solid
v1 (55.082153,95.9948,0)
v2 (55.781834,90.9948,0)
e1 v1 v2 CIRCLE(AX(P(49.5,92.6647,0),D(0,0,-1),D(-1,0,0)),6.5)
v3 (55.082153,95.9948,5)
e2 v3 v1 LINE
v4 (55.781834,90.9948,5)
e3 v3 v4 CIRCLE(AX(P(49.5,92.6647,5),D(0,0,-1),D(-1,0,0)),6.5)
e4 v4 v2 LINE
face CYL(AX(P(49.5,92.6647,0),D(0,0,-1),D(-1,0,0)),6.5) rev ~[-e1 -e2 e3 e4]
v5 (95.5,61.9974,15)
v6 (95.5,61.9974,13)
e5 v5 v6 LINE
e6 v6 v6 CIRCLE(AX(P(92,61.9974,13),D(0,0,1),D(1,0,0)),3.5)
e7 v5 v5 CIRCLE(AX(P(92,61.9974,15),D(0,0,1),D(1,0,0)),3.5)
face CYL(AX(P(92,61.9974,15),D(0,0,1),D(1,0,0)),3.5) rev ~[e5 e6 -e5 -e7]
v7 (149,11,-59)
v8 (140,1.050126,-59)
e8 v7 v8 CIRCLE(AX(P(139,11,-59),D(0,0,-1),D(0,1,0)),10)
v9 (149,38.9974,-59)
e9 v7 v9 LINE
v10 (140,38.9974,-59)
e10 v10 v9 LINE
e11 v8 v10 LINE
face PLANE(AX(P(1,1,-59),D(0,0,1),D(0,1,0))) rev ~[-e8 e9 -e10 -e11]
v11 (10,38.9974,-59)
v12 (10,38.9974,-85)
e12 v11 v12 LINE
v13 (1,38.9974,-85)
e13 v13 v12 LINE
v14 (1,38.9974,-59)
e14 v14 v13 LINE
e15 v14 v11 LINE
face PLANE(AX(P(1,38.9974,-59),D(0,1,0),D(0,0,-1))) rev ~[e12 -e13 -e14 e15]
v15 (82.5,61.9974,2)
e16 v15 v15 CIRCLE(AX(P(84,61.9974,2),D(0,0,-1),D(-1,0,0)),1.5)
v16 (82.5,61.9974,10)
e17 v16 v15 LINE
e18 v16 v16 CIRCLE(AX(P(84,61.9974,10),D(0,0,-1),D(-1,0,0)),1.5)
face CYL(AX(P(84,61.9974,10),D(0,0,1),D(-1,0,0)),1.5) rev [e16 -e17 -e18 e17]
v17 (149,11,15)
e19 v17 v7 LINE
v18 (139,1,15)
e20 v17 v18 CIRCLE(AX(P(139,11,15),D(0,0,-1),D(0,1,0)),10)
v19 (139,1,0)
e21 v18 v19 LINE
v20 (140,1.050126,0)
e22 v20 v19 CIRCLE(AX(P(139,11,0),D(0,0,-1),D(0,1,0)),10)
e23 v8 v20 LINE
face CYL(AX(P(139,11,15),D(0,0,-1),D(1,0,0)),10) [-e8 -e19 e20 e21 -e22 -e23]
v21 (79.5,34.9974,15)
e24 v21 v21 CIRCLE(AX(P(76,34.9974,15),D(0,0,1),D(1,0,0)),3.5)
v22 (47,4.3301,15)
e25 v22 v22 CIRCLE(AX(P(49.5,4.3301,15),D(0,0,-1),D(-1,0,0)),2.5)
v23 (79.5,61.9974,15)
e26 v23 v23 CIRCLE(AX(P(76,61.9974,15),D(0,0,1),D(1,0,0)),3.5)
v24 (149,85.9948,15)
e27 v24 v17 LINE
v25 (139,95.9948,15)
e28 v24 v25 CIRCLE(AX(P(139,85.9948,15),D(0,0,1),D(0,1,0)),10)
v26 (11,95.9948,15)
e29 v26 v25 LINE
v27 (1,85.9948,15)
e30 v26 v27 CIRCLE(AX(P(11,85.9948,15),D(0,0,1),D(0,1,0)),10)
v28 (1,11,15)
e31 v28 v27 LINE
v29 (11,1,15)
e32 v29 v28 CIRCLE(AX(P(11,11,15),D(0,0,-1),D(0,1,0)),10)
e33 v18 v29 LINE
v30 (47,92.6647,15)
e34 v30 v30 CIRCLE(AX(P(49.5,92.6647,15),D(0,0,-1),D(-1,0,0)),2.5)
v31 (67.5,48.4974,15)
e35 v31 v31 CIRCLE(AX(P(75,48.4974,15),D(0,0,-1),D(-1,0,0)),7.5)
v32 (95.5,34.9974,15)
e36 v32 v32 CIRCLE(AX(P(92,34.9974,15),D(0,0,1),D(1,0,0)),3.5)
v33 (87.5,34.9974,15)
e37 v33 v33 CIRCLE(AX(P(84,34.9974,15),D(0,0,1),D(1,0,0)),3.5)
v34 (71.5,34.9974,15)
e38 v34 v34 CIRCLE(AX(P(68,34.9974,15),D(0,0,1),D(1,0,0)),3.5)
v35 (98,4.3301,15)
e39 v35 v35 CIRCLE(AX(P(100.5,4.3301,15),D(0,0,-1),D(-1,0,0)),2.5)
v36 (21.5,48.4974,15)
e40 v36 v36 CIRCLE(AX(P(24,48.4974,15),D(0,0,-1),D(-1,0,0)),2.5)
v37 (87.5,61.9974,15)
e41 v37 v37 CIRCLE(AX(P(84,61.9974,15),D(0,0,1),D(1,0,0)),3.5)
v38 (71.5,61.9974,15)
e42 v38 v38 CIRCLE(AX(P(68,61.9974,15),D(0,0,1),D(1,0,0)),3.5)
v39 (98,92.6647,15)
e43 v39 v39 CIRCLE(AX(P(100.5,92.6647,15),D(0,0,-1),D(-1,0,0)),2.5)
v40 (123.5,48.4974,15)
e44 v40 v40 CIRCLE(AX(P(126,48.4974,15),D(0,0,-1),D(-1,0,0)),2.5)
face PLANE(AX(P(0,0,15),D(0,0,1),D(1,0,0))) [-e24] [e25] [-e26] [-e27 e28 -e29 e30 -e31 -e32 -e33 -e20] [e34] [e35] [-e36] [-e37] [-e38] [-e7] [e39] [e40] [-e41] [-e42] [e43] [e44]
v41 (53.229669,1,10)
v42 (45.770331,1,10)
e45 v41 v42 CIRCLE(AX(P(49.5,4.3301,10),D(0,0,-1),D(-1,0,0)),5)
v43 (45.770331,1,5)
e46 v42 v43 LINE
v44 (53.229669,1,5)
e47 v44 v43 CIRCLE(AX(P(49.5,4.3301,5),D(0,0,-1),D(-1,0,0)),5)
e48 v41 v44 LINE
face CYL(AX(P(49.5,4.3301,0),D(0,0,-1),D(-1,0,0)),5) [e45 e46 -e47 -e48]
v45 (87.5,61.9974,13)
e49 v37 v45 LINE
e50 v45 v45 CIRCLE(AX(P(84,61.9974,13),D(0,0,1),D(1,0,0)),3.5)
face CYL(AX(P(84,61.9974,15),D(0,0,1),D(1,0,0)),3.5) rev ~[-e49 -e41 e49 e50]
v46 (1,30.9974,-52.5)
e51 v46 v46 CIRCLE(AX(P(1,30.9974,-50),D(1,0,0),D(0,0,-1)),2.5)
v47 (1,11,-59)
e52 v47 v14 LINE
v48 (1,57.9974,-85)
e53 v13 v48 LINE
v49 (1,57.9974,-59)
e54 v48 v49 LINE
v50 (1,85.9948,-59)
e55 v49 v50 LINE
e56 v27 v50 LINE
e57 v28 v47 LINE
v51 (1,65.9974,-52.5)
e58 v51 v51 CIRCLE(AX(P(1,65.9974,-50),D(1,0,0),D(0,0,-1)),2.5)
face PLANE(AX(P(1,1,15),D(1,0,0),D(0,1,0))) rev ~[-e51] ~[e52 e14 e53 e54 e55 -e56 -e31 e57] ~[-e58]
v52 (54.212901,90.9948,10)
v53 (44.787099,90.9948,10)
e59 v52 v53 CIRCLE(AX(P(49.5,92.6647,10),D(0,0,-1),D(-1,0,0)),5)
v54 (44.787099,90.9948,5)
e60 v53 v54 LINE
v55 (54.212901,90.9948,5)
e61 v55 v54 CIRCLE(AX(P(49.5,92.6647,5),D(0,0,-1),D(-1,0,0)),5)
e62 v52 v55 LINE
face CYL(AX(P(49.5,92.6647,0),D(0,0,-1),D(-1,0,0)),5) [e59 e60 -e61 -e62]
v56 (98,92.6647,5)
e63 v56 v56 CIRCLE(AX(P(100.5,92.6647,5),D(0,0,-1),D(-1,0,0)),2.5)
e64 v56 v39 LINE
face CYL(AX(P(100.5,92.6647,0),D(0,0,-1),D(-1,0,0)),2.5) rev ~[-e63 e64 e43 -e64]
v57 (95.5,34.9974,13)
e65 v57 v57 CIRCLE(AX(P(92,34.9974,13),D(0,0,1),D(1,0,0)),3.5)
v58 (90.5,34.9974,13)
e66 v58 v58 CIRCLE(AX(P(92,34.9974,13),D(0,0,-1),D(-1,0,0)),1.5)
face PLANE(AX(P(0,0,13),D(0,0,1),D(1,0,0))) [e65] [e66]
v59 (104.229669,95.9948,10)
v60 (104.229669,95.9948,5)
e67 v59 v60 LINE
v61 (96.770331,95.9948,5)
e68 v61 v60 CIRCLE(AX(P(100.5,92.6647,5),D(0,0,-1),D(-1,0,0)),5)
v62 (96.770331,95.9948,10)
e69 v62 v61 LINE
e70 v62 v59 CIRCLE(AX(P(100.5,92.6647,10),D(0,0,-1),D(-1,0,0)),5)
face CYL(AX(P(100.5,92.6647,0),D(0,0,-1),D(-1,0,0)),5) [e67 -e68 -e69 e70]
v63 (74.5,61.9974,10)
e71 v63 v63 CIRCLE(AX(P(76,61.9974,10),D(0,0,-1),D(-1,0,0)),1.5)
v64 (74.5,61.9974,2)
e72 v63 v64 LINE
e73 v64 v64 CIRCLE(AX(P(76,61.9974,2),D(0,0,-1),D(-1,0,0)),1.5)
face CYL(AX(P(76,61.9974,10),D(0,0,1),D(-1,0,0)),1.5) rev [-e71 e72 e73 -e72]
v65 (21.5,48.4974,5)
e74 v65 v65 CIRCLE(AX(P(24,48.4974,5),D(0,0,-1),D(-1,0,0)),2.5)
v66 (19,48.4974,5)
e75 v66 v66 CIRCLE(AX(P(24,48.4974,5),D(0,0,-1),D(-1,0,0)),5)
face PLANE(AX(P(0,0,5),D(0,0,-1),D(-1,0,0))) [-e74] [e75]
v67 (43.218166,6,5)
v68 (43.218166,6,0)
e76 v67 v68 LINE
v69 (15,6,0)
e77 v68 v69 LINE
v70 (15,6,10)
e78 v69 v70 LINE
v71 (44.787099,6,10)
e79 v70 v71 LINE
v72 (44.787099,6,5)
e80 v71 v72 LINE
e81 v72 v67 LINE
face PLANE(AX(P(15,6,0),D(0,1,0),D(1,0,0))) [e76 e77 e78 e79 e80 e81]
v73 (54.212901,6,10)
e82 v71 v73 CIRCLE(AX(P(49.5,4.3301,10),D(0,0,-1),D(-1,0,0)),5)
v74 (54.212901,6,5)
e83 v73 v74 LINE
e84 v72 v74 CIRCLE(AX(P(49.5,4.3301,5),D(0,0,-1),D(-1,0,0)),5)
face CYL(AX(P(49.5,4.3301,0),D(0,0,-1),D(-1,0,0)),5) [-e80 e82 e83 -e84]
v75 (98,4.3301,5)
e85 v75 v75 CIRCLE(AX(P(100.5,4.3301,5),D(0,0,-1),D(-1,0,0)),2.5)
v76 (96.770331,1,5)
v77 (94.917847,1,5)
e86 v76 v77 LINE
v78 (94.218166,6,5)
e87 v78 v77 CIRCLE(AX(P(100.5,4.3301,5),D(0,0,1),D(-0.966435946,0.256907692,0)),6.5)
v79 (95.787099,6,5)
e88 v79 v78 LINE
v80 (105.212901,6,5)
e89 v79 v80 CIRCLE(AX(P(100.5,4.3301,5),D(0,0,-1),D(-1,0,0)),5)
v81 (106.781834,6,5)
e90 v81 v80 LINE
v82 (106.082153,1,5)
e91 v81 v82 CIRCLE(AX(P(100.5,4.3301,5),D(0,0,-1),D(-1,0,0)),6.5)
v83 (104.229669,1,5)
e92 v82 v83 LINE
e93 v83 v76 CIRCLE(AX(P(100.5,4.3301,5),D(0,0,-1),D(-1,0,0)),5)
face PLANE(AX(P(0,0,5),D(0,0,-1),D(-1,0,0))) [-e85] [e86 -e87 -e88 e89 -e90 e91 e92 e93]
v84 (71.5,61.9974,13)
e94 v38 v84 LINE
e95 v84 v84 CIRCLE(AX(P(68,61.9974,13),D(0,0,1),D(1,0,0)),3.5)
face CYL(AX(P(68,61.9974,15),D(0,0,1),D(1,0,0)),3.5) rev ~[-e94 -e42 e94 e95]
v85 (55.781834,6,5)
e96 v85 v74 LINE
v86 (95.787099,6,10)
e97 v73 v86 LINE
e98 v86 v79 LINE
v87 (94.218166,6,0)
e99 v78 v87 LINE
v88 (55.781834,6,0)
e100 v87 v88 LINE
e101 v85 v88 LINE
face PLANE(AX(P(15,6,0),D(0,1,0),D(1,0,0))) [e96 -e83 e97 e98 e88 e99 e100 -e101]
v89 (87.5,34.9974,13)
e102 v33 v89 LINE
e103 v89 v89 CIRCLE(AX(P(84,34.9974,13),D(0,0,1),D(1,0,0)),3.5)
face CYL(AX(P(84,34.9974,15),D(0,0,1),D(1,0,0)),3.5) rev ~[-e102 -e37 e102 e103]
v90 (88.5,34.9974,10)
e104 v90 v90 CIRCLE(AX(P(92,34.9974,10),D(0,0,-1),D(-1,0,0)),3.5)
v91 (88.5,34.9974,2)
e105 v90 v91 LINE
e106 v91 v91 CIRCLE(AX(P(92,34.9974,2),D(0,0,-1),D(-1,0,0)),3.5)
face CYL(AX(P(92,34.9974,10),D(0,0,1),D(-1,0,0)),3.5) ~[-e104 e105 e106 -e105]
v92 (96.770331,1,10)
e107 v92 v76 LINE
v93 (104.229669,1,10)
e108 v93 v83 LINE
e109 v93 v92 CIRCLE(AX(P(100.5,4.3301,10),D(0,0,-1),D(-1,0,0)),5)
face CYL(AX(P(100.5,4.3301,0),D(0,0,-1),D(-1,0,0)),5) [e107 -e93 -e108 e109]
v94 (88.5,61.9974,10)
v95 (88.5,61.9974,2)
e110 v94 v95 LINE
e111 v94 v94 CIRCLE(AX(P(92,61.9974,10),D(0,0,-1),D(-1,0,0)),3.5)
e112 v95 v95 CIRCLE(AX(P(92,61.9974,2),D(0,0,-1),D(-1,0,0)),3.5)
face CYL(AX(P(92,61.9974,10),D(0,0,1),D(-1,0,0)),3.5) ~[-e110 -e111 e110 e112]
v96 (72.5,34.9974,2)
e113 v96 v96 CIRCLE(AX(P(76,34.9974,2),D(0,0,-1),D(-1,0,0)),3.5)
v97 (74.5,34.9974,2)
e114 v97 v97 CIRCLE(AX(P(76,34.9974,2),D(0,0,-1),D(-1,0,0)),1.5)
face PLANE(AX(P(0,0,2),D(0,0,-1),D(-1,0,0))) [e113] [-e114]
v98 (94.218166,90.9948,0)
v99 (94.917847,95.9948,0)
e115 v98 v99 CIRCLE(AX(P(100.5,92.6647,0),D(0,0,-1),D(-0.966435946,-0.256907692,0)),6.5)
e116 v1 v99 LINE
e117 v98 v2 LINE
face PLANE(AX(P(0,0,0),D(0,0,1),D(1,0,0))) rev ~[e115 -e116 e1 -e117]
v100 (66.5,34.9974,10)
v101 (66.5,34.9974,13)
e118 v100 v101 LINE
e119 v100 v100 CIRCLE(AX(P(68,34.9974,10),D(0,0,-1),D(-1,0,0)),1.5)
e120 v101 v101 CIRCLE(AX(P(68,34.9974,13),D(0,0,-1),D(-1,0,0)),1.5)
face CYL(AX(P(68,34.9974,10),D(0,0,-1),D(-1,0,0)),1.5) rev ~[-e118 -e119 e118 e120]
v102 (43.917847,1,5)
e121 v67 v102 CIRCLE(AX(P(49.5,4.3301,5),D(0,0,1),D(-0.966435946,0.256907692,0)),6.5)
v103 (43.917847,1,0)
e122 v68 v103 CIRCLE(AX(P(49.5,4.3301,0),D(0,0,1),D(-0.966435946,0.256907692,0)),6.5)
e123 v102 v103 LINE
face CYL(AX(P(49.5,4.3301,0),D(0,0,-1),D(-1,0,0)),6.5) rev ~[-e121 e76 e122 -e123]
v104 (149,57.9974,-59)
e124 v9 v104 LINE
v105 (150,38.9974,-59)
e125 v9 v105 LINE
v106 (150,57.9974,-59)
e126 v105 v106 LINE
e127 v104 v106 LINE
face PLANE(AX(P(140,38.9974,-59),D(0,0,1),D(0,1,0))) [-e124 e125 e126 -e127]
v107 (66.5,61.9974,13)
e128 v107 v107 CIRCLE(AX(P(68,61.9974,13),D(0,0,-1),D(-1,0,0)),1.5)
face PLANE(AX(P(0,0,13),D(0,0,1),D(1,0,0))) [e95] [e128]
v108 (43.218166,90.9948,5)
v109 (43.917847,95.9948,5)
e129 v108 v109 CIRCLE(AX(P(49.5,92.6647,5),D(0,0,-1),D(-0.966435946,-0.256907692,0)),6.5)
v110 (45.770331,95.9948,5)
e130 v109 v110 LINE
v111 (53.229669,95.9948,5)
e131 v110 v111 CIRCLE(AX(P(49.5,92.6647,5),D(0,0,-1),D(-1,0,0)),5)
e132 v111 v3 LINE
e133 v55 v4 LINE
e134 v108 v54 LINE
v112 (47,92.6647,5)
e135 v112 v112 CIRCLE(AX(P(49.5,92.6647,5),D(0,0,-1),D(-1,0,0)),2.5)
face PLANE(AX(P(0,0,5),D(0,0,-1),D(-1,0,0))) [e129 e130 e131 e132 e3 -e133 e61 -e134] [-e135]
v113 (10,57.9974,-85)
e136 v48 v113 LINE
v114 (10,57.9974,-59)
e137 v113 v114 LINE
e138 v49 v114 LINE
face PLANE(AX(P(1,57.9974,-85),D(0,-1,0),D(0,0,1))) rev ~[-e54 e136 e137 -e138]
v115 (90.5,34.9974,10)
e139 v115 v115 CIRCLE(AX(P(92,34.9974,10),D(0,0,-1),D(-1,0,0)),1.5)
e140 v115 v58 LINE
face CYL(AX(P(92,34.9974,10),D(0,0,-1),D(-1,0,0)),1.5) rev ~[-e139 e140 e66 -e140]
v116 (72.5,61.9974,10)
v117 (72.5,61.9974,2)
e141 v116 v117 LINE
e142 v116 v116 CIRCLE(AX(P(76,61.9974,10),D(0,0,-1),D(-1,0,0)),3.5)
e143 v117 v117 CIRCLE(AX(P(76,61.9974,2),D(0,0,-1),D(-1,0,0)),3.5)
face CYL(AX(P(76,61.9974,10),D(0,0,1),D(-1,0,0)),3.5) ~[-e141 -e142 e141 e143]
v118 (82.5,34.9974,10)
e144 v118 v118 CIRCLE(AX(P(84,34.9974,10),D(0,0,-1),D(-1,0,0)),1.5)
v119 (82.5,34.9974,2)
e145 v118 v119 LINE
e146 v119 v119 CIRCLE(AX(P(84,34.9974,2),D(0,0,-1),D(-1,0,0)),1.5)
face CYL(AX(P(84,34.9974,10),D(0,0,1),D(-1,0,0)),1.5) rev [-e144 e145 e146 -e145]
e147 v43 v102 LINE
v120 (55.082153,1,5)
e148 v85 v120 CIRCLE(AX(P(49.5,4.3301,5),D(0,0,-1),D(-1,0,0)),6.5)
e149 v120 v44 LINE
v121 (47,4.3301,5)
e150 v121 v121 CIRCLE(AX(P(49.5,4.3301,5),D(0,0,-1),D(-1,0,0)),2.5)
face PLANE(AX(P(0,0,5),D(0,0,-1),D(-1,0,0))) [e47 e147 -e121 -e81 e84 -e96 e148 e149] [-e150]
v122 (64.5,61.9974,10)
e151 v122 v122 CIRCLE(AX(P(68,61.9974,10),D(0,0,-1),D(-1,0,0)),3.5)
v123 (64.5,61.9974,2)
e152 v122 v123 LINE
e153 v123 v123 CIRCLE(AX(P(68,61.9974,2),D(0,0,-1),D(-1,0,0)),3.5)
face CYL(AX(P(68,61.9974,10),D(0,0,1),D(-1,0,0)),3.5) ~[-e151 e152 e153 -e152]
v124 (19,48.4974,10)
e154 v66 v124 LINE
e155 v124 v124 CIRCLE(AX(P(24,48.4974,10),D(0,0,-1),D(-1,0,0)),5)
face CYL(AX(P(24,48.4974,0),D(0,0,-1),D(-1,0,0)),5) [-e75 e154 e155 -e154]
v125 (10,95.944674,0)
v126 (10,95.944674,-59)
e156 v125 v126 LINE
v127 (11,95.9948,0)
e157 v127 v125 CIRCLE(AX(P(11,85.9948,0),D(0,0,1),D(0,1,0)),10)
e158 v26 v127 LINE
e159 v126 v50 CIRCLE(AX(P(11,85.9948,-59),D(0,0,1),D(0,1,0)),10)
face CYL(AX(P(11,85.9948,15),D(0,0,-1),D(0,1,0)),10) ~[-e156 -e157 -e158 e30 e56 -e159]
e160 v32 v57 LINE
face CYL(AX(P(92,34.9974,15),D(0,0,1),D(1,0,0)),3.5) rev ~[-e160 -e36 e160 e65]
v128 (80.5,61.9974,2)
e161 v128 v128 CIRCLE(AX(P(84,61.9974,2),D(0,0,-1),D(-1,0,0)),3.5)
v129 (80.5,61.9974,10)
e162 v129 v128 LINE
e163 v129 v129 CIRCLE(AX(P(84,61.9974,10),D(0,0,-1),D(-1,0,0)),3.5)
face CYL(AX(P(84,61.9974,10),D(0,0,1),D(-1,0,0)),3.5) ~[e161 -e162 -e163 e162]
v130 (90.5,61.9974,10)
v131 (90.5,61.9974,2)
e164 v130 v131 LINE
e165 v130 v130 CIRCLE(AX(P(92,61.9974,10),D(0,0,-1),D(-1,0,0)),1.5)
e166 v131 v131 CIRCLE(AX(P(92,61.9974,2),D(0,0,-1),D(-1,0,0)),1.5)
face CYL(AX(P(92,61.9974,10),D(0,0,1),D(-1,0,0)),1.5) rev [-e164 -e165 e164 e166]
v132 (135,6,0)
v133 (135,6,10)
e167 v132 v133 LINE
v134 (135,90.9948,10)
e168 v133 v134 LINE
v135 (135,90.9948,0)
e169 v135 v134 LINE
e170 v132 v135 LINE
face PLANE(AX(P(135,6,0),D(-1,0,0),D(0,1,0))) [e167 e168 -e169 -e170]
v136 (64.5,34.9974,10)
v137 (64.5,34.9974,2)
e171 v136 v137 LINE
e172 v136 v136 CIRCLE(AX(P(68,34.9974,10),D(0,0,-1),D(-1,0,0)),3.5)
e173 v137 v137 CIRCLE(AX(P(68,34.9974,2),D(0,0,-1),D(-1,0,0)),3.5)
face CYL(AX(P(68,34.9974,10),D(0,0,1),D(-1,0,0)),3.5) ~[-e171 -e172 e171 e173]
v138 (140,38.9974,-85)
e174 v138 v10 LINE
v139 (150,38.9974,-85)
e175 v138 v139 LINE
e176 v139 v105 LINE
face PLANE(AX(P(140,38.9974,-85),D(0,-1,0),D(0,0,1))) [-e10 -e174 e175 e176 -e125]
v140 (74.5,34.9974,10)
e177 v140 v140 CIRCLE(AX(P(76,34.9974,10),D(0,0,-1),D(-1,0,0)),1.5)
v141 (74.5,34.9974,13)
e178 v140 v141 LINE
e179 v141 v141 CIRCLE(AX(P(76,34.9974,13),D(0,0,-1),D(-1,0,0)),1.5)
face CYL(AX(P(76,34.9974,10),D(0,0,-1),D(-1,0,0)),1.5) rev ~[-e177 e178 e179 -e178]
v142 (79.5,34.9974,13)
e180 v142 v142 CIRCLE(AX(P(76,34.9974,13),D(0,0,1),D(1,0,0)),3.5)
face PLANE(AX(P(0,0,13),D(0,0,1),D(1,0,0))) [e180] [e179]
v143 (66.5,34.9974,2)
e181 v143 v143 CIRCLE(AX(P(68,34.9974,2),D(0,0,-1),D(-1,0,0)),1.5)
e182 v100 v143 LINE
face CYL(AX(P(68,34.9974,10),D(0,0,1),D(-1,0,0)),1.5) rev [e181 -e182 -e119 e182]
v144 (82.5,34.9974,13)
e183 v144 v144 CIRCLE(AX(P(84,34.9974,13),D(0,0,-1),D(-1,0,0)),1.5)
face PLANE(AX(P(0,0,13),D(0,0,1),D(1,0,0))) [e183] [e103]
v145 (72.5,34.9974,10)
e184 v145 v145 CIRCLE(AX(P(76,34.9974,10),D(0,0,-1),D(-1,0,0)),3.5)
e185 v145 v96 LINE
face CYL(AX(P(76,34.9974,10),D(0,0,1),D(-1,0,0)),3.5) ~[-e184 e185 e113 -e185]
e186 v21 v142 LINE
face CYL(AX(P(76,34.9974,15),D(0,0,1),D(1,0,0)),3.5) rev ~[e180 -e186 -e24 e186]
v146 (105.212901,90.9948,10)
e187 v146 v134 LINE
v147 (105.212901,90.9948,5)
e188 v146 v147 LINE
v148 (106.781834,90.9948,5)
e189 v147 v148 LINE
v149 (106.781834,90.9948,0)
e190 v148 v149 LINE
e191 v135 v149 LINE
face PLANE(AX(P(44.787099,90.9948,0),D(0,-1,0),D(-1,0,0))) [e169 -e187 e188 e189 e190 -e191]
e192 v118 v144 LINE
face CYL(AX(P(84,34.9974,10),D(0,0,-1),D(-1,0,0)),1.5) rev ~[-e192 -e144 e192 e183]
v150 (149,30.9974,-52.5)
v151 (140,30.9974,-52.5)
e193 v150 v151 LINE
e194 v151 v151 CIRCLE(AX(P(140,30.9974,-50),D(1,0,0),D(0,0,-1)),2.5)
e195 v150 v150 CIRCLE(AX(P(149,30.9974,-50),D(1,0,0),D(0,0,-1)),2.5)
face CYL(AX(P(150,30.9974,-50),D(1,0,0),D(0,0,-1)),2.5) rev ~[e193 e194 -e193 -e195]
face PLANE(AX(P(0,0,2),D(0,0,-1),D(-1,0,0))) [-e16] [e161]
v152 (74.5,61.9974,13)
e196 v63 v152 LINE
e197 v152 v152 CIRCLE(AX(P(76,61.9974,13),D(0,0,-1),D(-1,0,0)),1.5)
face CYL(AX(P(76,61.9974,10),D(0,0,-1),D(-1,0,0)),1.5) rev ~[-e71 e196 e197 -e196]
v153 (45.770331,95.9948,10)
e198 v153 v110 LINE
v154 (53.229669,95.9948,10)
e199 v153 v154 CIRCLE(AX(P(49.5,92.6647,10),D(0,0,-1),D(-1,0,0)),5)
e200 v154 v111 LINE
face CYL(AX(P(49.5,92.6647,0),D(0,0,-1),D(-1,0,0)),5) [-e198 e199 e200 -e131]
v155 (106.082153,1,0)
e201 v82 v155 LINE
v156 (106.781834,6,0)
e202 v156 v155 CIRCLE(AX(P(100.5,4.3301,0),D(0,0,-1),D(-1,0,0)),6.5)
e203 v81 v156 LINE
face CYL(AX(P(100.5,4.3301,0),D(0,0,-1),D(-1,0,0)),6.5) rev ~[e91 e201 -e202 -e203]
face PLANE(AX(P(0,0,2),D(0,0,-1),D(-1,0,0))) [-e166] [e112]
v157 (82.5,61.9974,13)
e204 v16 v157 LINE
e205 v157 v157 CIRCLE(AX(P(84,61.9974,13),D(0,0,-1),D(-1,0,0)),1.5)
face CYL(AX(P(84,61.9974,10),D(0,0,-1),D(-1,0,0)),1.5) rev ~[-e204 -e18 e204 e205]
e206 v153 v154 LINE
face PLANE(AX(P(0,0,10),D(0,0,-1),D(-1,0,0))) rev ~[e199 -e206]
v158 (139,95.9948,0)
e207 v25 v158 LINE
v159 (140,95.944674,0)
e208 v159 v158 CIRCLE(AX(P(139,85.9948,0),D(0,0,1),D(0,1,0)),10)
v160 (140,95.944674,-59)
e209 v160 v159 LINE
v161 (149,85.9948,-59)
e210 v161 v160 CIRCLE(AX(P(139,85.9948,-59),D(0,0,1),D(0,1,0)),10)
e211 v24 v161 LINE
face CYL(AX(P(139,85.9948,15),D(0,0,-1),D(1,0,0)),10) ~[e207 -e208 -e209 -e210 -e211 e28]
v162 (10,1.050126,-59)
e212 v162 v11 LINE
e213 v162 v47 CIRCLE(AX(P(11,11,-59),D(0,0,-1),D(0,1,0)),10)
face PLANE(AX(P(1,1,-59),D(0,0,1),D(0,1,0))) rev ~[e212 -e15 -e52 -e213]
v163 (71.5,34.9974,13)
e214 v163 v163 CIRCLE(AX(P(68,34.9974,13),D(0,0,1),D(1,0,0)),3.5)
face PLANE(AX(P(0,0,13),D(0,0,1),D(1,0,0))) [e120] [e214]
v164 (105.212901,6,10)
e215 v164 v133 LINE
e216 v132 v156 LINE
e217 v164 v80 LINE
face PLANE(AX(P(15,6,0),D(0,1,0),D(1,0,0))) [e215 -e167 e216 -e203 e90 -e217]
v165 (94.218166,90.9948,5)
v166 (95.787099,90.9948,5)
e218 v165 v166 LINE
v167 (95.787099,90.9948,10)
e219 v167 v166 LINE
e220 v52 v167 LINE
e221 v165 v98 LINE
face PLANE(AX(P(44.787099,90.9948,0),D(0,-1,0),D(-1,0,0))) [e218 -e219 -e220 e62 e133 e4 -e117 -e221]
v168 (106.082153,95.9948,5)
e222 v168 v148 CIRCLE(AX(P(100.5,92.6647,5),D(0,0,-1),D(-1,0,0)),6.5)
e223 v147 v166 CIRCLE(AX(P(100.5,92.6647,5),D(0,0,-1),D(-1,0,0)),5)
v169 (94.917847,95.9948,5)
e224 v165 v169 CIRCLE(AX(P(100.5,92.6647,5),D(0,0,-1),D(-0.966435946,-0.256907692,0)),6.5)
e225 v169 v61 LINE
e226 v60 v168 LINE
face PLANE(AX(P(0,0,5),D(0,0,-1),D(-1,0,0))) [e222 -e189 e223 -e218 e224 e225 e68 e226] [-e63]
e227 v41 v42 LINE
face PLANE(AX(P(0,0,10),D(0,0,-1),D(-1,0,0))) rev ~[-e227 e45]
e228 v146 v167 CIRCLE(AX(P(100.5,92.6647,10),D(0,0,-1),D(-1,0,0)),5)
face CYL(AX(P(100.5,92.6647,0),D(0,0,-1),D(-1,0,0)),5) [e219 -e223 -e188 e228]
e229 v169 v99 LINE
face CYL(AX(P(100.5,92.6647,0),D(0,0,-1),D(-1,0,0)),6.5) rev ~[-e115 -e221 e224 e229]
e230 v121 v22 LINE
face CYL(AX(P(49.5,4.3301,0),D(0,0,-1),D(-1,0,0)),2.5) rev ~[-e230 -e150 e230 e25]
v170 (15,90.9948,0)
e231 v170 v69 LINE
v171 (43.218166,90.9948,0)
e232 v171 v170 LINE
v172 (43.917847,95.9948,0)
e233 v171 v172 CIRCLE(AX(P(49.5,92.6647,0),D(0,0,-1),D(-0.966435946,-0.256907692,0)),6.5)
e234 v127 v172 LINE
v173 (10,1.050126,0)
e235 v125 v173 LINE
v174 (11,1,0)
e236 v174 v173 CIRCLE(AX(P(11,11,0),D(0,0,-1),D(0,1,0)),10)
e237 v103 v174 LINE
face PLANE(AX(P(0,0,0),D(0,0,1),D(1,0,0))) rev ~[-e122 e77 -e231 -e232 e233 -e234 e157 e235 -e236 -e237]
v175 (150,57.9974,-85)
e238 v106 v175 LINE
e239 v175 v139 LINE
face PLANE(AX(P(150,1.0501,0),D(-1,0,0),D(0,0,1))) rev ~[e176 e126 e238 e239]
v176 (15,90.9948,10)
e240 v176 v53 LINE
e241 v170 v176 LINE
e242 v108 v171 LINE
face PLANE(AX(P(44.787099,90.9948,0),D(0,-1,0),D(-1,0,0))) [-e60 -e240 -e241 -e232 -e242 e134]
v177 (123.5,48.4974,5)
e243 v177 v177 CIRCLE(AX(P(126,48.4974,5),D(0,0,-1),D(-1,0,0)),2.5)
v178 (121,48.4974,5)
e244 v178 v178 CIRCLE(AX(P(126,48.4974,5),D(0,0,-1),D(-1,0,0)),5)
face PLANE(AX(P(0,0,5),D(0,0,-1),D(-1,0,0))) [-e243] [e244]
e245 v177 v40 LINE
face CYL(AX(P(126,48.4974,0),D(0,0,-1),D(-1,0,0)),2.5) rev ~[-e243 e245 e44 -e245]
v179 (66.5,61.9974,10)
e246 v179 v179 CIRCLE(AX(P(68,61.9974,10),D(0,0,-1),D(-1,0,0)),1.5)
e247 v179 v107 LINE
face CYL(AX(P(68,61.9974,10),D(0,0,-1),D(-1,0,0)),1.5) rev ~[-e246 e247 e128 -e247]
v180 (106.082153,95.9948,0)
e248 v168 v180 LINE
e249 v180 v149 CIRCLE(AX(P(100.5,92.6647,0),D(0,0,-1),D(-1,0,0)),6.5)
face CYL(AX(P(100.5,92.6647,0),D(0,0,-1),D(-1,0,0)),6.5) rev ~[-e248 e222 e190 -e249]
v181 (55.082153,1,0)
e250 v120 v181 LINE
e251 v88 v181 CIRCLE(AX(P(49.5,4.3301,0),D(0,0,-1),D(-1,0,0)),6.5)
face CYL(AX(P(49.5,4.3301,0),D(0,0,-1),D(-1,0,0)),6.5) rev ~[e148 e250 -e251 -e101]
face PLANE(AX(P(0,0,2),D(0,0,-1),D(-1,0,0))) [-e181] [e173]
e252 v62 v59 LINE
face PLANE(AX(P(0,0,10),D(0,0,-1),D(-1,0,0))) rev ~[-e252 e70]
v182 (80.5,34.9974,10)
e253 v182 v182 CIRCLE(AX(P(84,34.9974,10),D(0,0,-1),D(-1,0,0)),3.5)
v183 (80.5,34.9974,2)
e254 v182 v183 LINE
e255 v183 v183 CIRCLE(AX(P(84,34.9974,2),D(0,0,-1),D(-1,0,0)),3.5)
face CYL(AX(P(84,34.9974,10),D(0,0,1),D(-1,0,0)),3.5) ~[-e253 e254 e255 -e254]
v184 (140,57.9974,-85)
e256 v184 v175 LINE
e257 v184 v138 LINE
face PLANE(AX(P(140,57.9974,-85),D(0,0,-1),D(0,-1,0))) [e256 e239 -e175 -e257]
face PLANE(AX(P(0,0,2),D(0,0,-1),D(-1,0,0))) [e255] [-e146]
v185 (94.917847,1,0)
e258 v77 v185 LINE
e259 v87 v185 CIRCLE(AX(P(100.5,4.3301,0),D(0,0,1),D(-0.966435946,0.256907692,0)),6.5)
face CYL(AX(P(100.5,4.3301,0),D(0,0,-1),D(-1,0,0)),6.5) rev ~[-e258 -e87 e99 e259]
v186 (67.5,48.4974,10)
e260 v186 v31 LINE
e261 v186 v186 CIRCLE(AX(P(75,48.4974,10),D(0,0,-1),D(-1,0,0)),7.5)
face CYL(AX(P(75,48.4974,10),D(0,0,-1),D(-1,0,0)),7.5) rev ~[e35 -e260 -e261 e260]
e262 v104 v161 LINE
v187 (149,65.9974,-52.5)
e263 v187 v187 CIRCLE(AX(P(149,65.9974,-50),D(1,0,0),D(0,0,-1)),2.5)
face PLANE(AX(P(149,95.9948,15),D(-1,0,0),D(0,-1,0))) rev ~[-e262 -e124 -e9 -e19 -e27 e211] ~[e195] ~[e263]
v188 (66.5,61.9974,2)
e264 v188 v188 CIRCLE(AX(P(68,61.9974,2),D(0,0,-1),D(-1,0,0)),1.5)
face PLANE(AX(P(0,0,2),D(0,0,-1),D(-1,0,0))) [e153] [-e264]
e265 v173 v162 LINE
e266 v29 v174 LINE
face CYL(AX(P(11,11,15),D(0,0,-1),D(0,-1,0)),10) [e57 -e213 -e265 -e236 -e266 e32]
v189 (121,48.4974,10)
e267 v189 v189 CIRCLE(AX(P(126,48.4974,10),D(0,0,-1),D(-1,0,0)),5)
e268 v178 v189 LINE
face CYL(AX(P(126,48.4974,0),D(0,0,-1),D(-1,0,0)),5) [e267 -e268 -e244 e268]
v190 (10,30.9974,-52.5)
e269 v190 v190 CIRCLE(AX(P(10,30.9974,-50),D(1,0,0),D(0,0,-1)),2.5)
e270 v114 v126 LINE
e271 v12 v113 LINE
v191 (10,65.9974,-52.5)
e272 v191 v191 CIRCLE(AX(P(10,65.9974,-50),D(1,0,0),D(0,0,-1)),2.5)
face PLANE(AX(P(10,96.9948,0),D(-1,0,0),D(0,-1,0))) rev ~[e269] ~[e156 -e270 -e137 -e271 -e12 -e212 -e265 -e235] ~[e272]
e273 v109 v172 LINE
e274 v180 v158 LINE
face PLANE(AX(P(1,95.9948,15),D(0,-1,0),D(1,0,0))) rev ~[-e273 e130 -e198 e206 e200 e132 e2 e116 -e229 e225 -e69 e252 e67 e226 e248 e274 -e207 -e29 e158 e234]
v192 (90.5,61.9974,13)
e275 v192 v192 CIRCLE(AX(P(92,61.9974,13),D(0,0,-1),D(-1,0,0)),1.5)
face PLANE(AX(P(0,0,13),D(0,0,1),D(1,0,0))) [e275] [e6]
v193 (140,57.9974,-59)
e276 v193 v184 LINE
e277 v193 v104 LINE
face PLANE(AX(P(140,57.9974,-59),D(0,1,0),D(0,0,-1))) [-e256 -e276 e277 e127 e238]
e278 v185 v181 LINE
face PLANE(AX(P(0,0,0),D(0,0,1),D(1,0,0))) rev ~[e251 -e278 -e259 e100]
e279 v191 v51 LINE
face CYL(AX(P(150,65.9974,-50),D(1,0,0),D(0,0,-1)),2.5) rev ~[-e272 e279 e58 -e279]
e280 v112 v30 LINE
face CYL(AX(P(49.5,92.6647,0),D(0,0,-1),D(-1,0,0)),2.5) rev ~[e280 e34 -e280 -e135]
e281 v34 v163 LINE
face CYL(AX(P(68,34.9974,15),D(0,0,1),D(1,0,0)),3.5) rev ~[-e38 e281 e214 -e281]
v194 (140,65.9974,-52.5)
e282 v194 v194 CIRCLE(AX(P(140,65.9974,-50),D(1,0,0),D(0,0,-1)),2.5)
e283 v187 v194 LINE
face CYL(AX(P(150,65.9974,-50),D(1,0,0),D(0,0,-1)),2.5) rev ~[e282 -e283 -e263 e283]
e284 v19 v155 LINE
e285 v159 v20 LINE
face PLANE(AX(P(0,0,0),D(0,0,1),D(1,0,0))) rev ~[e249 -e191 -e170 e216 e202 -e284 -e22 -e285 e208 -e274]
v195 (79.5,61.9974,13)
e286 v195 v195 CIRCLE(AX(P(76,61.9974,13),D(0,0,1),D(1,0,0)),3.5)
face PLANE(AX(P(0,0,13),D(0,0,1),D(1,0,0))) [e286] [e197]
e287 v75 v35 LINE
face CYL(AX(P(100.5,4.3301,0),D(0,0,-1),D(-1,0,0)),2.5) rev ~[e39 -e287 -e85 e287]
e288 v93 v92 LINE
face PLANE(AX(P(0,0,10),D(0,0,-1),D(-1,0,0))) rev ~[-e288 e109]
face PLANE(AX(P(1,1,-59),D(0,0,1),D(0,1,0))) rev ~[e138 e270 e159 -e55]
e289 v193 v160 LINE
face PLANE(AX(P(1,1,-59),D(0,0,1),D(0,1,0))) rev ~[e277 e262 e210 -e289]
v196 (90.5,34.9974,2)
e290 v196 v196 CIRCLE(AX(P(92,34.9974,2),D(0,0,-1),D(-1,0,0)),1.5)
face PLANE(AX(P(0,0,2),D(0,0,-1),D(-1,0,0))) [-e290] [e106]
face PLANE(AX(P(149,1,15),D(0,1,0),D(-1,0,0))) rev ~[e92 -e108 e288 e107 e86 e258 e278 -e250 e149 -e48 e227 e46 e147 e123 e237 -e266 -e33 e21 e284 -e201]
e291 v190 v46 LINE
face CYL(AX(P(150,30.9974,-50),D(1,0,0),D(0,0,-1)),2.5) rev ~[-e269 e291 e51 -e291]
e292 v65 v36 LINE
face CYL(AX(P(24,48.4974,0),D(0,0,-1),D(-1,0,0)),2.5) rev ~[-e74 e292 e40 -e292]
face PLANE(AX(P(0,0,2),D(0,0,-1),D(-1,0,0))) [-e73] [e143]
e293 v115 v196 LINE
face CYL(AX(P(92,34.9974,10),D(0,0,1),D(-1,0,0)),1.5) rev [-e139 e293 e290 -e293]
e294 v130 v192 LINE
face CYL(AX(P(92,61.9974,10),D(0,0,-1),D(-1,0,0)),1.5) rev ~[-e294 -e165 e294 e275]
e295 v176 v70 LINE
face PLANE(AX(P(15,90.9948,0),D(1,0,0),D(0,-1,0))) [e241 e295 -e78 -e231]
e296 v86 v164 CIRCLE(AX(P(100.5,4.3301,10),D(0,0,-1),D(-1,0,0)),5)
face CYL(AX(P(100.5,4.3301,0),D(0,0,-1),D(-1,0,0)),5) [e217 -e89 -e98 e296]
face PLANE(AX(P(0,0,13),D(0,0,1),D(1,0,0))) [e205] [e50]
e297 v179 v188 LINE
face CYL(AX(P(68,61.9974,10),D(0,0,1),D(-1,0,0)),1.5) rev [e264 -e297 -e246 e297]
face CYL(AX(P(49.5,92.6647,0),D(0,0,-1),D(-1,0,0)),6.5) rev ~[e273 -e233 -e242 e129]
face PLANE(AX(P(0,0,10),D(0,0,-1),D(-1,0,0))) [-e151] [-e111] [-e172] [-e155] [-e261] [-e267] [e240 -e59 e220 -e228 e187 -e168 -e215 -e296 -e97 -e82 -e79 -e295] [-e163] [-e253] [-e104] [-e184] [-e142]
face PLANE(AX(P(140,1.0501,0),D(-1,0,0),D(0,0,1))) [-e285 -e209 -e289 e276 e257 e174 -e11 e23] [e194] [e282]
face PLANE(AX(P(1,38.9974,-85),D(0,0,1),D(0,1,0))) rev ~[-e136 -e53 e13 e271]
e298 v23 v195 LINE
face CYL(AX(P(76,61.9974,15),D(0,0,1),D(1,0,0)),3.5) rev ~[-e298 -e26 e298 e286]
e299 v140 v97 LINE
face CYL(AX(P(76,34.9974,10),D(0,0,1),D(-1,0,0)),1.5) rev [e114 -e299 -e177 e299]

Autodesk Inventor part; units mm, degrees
ref_plane "YZ Plane" through (0, 0, 0) normal (1, 0, 0) x (0, 1, 0)
ref_plane "XZ Plane" through (0, 0, 0) normal (0, 1, 0) x (-1, 0, 0)
ref_plane "XY Plane" through (0, 0, 0) normal (0, 0, 1) x (1, 0, 0)
sketch "Sketch1" plane through (0, 0, 0) normal (0, 0, 1) x (1, 0, 0)
  line L0 (0, 0) -> (150, 0)
  line L1 (150, 0) -> (150, 96.9948)
  line L2 (150, 96.9948) -> (0, 96.9948)
  line L3 (0, 96.9948) -> (0, 0)
  dimension "d0" = 150
  dimension "d1" = 96.9948
extrude "Extrusion1" add sketch "Sketch1" along normal blind 15
sketch "Sketch2" plane through (0, 0, 0) normal (0, 0, -1) x (-1, 0, 0)
  line L0 (0, 96.9948) -> (0, 0) projected
  line L1 (0, 0) -> (-150, 0) projected
  line L2 (0, 96.9948) -> (-10, 96.9948)
  line L3 (-10, 96.9948) -> (-10, 0)
  line L4 (-10, 0) -> (0, 0)
  line L5 (0, 0) -> (0, 96.9948)
  line L6 (-150, 96.9948) -> (0, 96.9948) projected
  line L7 (-150, 96.9948) -> (-140, 96.9948)
  line L8 (-140, 96.9948) -> (-140, 0)
  line L9 (-140, 0) -> (-150, 0)
  line L10 (-150, 0) -> (-150, 96.9948)
  dimension "d4" = 10
  dimension "d5" = 10
extrude "Extrusion2" add sketch "Sketch2" along normal blind 60 contours L0 L1 L3 L2 | L8 L1 L10 L6
sketch "Sketch3" plane through (150, 0, 15) normal (1, 0, 0) x (0, 0, -1)
  circle A0 centre (65, 65.9974) radius 2.5
  circle A1 centre (65, 30.9974) radius 2.5
  line L0 (75, 0) -> (75, 96.9948) projected
  line L1 (65, 65.9974) -> (65, 30.9974) construction
  point P0 (15, 0)
  point P1 (65, 48.4974)
  point P2 (75, 48.4974)
  dimension "d8" = 5
  dimension "d9" = 5
  dimension "d10" = 10
  dimension "d11" = 35
extrude "Extrusion3" cut sketch "Sketch3" against normal through all
sketch "Sketch4" plane through (0, 0, 15) normal (0, 0, 1) x (1, 0, 0)
  line L0 (0, 0) -> (150, 0) projected
  line L1 (150, 0) -> (150, 96.9948) projected
  line L2 (150, 96.9948) -> (0, 96.9948) projected
  line L3 (0, 96.9948) -> (0, 0) projected
  line L4 (149, 1) -> (1, 1)
  line L5 (1, 1) -> (1, 95.9948)
  line L6 (1, 95.9948) -> (149, 95.9948)
  line L7 (149, 95.9948) -> (149, 1)
  dimension "d14" = 1
extrude "Extrusion4" cut sketch "Sketch4" against normal through all
sketch "Sketch5" plane through (1, 1, 15) normal (-1, 0, 0) x (0, 0, 1)
  line L0 (-75, 0) -> (-75, 94.9948) projected
  line L1 (-75, 94.9948) -> (-15, 94.9948) projected
  line L2 (-75, 0) -> (-74, 0)
  line L3 (-74, 0) -> (-74, 94.9948)
  line L4 (-74, 94.9948) -> (-75, 94.9948)
  line L5 (-75, 94.9948) -> (-75, 0)
  point P0 (-15, -1)
  dimension "d17" = 1
extrude "Extrusion5" cut sketch "Sketch5" against normal through all
sketch "Sketch6" plane through (0, 0, 0) normal (0, 0, -1) x (-1, 0, 0)
  line L0 (-10, 95.9948) -> (-140, 95.9948) projected
  line L1 (-140, 95.9948) -> (-140, 1) projected
  line L2 (-140, 1) -> (-10, 1) projected
  line L3 (-10, 1) -> (-10, 95.9948) projected
  line L4 (-15, 6) -> (-135, 6)
  line L5 (-135, 6) -> (-135, 90.9948)
  line L6 (-135, 90.9948) -> (-15, 90.9948)
  line L7 (-15, 90.9948) -> (-15, 6)
  line L8 (-10, 1) -> (-10, 95.9948) projected
  circle A0 centre (-75, 48.4974) radius 2.5
  circle A1 centre (-126, 48.4974) radius 2.5
  circle A2 centre (-100.5, 4.3301) radius 2.5
  circle A3 centre (-49.5, 4.3301) radius 2.5
  circle A4 centre (-24, 48.4974) radius 2.5
  circle A5 centre (-49.5, 92.6647) radius 2.5
  circle A6 centre (-100.5, 92.6647) radius 2.5
  circle A7 centre (-126, 48.4974) radius 5
  circle A8 centre (-100.5, 4.3301) radius 5
  circle A9 centre (-49.5, 4.3301) radius 5
  circle A10 centre (-24, 48.4974) radius 5
  circle A11 centre (-49.5, 92.6647) radius 5
  circle A12 centre (-100.5, 92.6647) radius 5
  point P0 (0, 0)
  point P1 (-75, 6)
  point P2 (-75, 1)
  point P3 (-15, 48.4974)
  point P4 (-10, 48.4974)
  dimension "d20" = 5
  dimension "d21" = 5
  dimension "d22" = 5
  dimension "d23" = 5
  dimension "d26" = 51
  dimension "d29" = 360
  dimension "d31" = 10
  dimension "d34" = 360
extrude "Extrusion6" cut sketch "Sketch6" against normal blind 10 contours A11 L6 L7 L4 A9 A8 L5 A12 | L6 A5 A11 | A12 L6 A6 | L6 A5 | A9 L4 A3 | A6 L6 | A3 L4 | L4 A2 A8 | L4 A2 | A0 picked at (-49.9702, 90.8634) picked at (-100.0298, 90.8634) picked at (-49.0298, 6.1314) picked at (-100.7933, 6.2234)
extrude "Extrusion7" cut sketch "Sketch6" against normal through all contours A5 L6 | L6 A5 | A6 L6 | L6 A6 | A3 L4 | L4 A3 | A2 L4 | L4 A2 | A1 | A4
extrude "Extrusion8" add sketch "Sketch6" against normal blind 10 contours A11 L6 A5 L0 | L0 A11 | A9 L2 | L2 A9 L4 A3 | A12 L6 A6 L0 | L0 A12 | L6 A5 A11 | A12 L6 A6 | A8 L2 | L2 A8 L4 A2 | A9 L4 A3 | L4 A2 A8
sketch "Sketch7" plane through (0, 0, 10) normal (0, 0, -1) x (-1, 0, 0)
  line L0 (-92, 61.9974) -> (-68, 61.9974) construction
  line L1 (-68, 61.9974) -> (-68, 34.9974) construction
  line L2 (-68, 34.9974) -> (-92, 34.9974) construction
  line L3 (-92, 34.9974) -> (-92, 61.9974) construction
  circle A0 centre (-92, 61.9974) radius 1.5
  circle A1 centre (-92, 34.9974) radius 1.5
  circle A2 centre (-68, 34.9974) radius 1.5
  circle A3 centre (-68, 61.9974) radius 1.5
  circle A4 centre (-84, 61.9974) radius 1.5
  circle A5 centre (-76, 61.9974) radius 1.5
  circle A6 centre (-84, 34.9974) radius 1.5
  circle A7 centre (-76, 34.9974) radius 1.5
  circle A8 centre (-24, 48.4974) radius 2.5 projected
  line L4 (-149, 1) -> (-149, 95.9948) projected
  point P0 (0, 0)
  point P1 (-92, 48.4974)
  point P2 (-80, 61.9974)
  dimension "d42" = 24
  dimension "d43" = 27
  dimension "d44" = 3
  dimension "d45" = 3
  dimension "d46" = 3
  dimension "d47" = 3
  dimension "d48" = 3
  dimension "d49" = 3
  dimension "d50" = 3
  dimension "d51" = 3
  dimension "d52" = 8
  dimension "d53" = 8
  dimension "d55" = 57
extrude "Extrusion9" cut sketch "Sketch7" against normal through all contours A0 | A1 | A2 | A3 | A4 | A5 | A6 | A7
sketch "Sketch8" plane through (0, 0, 10) normal (0, 0, -1) x (-1, 0, 0)
  circle A0 centre (-68, 34.9974) radius 1.5 projected
  circle A1 centre (-76, 34.9974) radius 1.5 projected
  circle A2 centre (-84, 34.9974) radius 1.5 projected
  circle A3 centre (-92, 34.9974) radius 1.5 projected
  circle A4 centre (-92, 61.9974) radius 1.5 projected
  circle A5 centre (-84, 61.9974) radius 1.5 projected
  circle A6 centre (-76, 61.9974) radius 1.5 projected
  circle A7 centre (-68, 61.9974) radius 1.5 projected
  circle A8 centre (-68, 34.9974) radius 3.5
  circle A9 centre (-76, 34.9974) radius 3.5
  circle A10 centre (-84, 34.9974) radius 3.5
  circle A11 centre (-92, 34.9974) radius 3.5
  circle A12 centre (-92, 61.9974) radius 3.5
  circle A13 centre (-84, 61.9974) radius 3.5
  circle A14 centre (-76, 61.9974) radius 3.5
  circle A15 centre (-68, 61.9974) radius 3.5
  point P0 (0, 0)
  dimension "d58" = 7
  dimension "d59" = 7
  dimension "d60" = 7
  dimension "d61" = 7
  dimension "d62" = 7
  dimension "d63" = 7
  dimension "d64" = 7
  dimension "d65" = 7
extrude "Extrusion10" add sketch "Sketch8" along normal blind 8
sketch "Sketch10" plane through (0, 0, 0) normal (0, 0, -1) x (-1, 0, 0)
  circle A0 centre (-126, 48.4974) radius 2.5 projected
  circle A1 centre (-24, 48.4974) radius 2.5 projected
  circle A2 centre (-49.5, 4.3301) radius 2.5 projected
  circle A3 centre (-100.5, 92.6647) radius 2.5 projected
  circle A4 centre (-49.5, 92.6647) radius 2.5 projected
  circle A5 centre (-100.5, 4.3301) radius 2.5 projected
  circle A6 centre (-49.5, 4.3301) radius 6.5
  circle A7 centre (-100.5, 4.3301) radius 6.5
  circle A8 centre (-126, 48.4974) radius 6.5
  circle A9 centre (-100.5, 92.6647) radius 6.5
  circle A10 centre (-49.5, 92.6647) radius 5 projected
  circle A11 centre (-49.5, 92.6647) radius 6.5
  circle A12 centre (-24, 48.4974) radius 6.5
  point P0 (0, 0)
  point P1 (-44.7871, 90.9948)
  point P2 (-54.2129, 90.9948)
  dimension "d69" = 13
  dimension "d70" = 13
  dimension "d71" = 13
  dimension "d72" = 13
  dimension "d73" = 13
  dimension "d74" = 13
extrude "Extrusion11" cut sketch "Sketch10" against normal blind 5 contours A0 | A1 | A2 | A3 | A4 | A5 | A6 | A7 | A8 | A9 | A10 | A11 | A12
sketch "Sketch12" plane through (0, 0, 15) normal (0, 0, 1) x (1, 0, 0)
  circle A0 centre (84, 61.9974) radius 1.5 projected
  circle A1 centre (68, 61.9974) radius 1.5 projected
  circle A2 centre (76, 61.9974) radius 1.5 projected
  circle A3 centre (92, 61.9974) radius 1.5 projected
  circle A4 centre (92, 34.9974) radius 1.5 projected
  circle A5 centre (84, 34.9974) radius 1.5 projected
  circle A6 centre (76, 34.9974) radius 1.5 projected
  circle A7 centre (68, 34.9974) radius 1.5 projected
  circle A8 centre (68, 61.9974) radius 3.5
  circle A9 centre (76, 61.9974) radius 1.5 projected
  circle A10 centre (76, 61.9974) radius 3.5
  circle A11 centre (84, 61.9974) radius 3.5
  circle A12 centre (92, 61.9974) radius 1.5 projected
  circle A13 centre (92, 61.9974) radius 3.5
  circle A14 centre (92, 34.9974) radius 3.5
  circle A15 centre (84, 34.9974) radius 3.5
  circle A16 centre (76, 34.9974) radius 3.5
  circle A17 centre (68, 34.9974) radius 3.5
  point P0 (0, 0)
  dimension "d77" = 7
  dimension "d78" = 7
  dimension "d79" = 7
  dimension "d80" = 7
  dimension "d81" = 7
  dimension "d82" = 7
  dimension "d83" = 7
  dimension "d84" = 7
extrude "Extrusion12" cut sketch "Sketch12" against normal blind 2 contours A0 | A1 | A2 | A3 | A4 | A5 | A6 | A7 | A8 | A10 | A11 | A13 | A14 | A15 | A16 | A17
sketch "Sketch13" plane through (1, 1, 15) normal (-1, 0, 0) x (0, 0, 1)
  line L0 (-74, 94.9948) -> (-74, 0) projected
  line L1 (-74, 37.9974) -> (-100, 37.9974)
  line L2 (-100, 37.9974) -> (-100, 56.9974)
  line L3 (-100, 56.9974) -> (-74, 56.9974)
  line L4 (-74, 56.9974) -> (-74, 37.9974)
  point P0 (-15, -1)
  point P1 (-74, 47.4974)
  dimension "d87" = 19
  dimension "d88" = 26
extrude "Extrusion13" add sketch "Sketch13" against normal blind 9
sketch "Sketch14" plane through (0, 0, 10) normal (0, 0, -1) x (-1, 0, 0)
  line L0 (-10, 95.9948) -> (-140, 95.9948) projected
  line L1 (-149, 1) -> (-149, 95.9948) projected
  circle A0 centre (-75, 48.4974) radius 7.5
  point P0 (0, 0)
  point P1 (-55.0821, 95.9948)
  point P2 (-94.9179, 95.9948)
  point P3 (-149, 48.4974)
  point P4 (-75, 95.9948)
  dimension "d92" = 15
extrude "Extrusion14" cut sketch "Sketch14" against normal through all
fillet "Fillet1" radius 10 4 edges at (1, 95.9948, -22) (149, 95.9948, -22) (149, 1, -22) (1, 1, -22)
sketch "Sketch15" plane through (140, 1.0501, 0) normal (-1, 0, 0) x (0, 0, 1)
  line L0 (15, 9.9499) -> (-59, 9.9499) projected
  line L1 (15, 84.9447) -> (15, 9.9499) projected
  line L2 (-59, 84.9447) -> (15, 84.9447) projected
  line L3 (-59, 84.9447) -> (-59, 56.9473) projected
  line L4 (-59, 56.9473) -> (-85, 56.9473) projected
  line L5 (-85, 56.9473) -> (-85, 37.9473) projected
  line L6 (-85, 37.9473) -> (-59, 37.9473) projected
  line L7 (-59, 37.9473) -> (-59, 9.9499) projected
  circle A0 centre (-50, 29.9473) radius 2.5 projected
  circle A1 centre (-50, 64.9473) radius 2.5 projected
  line L8 (-59, 37.9473) -> (-59, 56.9473)
  line L9 (-59, 94.8946) -> (-59, 0) projected
  point P0 (0, -1.0501)
extrude "Extrusion15" add sketch "Sketch15" against normal blind 10 contours L6 L5 L4 L8
properties part number "GA03" material "ABS Plastic"
